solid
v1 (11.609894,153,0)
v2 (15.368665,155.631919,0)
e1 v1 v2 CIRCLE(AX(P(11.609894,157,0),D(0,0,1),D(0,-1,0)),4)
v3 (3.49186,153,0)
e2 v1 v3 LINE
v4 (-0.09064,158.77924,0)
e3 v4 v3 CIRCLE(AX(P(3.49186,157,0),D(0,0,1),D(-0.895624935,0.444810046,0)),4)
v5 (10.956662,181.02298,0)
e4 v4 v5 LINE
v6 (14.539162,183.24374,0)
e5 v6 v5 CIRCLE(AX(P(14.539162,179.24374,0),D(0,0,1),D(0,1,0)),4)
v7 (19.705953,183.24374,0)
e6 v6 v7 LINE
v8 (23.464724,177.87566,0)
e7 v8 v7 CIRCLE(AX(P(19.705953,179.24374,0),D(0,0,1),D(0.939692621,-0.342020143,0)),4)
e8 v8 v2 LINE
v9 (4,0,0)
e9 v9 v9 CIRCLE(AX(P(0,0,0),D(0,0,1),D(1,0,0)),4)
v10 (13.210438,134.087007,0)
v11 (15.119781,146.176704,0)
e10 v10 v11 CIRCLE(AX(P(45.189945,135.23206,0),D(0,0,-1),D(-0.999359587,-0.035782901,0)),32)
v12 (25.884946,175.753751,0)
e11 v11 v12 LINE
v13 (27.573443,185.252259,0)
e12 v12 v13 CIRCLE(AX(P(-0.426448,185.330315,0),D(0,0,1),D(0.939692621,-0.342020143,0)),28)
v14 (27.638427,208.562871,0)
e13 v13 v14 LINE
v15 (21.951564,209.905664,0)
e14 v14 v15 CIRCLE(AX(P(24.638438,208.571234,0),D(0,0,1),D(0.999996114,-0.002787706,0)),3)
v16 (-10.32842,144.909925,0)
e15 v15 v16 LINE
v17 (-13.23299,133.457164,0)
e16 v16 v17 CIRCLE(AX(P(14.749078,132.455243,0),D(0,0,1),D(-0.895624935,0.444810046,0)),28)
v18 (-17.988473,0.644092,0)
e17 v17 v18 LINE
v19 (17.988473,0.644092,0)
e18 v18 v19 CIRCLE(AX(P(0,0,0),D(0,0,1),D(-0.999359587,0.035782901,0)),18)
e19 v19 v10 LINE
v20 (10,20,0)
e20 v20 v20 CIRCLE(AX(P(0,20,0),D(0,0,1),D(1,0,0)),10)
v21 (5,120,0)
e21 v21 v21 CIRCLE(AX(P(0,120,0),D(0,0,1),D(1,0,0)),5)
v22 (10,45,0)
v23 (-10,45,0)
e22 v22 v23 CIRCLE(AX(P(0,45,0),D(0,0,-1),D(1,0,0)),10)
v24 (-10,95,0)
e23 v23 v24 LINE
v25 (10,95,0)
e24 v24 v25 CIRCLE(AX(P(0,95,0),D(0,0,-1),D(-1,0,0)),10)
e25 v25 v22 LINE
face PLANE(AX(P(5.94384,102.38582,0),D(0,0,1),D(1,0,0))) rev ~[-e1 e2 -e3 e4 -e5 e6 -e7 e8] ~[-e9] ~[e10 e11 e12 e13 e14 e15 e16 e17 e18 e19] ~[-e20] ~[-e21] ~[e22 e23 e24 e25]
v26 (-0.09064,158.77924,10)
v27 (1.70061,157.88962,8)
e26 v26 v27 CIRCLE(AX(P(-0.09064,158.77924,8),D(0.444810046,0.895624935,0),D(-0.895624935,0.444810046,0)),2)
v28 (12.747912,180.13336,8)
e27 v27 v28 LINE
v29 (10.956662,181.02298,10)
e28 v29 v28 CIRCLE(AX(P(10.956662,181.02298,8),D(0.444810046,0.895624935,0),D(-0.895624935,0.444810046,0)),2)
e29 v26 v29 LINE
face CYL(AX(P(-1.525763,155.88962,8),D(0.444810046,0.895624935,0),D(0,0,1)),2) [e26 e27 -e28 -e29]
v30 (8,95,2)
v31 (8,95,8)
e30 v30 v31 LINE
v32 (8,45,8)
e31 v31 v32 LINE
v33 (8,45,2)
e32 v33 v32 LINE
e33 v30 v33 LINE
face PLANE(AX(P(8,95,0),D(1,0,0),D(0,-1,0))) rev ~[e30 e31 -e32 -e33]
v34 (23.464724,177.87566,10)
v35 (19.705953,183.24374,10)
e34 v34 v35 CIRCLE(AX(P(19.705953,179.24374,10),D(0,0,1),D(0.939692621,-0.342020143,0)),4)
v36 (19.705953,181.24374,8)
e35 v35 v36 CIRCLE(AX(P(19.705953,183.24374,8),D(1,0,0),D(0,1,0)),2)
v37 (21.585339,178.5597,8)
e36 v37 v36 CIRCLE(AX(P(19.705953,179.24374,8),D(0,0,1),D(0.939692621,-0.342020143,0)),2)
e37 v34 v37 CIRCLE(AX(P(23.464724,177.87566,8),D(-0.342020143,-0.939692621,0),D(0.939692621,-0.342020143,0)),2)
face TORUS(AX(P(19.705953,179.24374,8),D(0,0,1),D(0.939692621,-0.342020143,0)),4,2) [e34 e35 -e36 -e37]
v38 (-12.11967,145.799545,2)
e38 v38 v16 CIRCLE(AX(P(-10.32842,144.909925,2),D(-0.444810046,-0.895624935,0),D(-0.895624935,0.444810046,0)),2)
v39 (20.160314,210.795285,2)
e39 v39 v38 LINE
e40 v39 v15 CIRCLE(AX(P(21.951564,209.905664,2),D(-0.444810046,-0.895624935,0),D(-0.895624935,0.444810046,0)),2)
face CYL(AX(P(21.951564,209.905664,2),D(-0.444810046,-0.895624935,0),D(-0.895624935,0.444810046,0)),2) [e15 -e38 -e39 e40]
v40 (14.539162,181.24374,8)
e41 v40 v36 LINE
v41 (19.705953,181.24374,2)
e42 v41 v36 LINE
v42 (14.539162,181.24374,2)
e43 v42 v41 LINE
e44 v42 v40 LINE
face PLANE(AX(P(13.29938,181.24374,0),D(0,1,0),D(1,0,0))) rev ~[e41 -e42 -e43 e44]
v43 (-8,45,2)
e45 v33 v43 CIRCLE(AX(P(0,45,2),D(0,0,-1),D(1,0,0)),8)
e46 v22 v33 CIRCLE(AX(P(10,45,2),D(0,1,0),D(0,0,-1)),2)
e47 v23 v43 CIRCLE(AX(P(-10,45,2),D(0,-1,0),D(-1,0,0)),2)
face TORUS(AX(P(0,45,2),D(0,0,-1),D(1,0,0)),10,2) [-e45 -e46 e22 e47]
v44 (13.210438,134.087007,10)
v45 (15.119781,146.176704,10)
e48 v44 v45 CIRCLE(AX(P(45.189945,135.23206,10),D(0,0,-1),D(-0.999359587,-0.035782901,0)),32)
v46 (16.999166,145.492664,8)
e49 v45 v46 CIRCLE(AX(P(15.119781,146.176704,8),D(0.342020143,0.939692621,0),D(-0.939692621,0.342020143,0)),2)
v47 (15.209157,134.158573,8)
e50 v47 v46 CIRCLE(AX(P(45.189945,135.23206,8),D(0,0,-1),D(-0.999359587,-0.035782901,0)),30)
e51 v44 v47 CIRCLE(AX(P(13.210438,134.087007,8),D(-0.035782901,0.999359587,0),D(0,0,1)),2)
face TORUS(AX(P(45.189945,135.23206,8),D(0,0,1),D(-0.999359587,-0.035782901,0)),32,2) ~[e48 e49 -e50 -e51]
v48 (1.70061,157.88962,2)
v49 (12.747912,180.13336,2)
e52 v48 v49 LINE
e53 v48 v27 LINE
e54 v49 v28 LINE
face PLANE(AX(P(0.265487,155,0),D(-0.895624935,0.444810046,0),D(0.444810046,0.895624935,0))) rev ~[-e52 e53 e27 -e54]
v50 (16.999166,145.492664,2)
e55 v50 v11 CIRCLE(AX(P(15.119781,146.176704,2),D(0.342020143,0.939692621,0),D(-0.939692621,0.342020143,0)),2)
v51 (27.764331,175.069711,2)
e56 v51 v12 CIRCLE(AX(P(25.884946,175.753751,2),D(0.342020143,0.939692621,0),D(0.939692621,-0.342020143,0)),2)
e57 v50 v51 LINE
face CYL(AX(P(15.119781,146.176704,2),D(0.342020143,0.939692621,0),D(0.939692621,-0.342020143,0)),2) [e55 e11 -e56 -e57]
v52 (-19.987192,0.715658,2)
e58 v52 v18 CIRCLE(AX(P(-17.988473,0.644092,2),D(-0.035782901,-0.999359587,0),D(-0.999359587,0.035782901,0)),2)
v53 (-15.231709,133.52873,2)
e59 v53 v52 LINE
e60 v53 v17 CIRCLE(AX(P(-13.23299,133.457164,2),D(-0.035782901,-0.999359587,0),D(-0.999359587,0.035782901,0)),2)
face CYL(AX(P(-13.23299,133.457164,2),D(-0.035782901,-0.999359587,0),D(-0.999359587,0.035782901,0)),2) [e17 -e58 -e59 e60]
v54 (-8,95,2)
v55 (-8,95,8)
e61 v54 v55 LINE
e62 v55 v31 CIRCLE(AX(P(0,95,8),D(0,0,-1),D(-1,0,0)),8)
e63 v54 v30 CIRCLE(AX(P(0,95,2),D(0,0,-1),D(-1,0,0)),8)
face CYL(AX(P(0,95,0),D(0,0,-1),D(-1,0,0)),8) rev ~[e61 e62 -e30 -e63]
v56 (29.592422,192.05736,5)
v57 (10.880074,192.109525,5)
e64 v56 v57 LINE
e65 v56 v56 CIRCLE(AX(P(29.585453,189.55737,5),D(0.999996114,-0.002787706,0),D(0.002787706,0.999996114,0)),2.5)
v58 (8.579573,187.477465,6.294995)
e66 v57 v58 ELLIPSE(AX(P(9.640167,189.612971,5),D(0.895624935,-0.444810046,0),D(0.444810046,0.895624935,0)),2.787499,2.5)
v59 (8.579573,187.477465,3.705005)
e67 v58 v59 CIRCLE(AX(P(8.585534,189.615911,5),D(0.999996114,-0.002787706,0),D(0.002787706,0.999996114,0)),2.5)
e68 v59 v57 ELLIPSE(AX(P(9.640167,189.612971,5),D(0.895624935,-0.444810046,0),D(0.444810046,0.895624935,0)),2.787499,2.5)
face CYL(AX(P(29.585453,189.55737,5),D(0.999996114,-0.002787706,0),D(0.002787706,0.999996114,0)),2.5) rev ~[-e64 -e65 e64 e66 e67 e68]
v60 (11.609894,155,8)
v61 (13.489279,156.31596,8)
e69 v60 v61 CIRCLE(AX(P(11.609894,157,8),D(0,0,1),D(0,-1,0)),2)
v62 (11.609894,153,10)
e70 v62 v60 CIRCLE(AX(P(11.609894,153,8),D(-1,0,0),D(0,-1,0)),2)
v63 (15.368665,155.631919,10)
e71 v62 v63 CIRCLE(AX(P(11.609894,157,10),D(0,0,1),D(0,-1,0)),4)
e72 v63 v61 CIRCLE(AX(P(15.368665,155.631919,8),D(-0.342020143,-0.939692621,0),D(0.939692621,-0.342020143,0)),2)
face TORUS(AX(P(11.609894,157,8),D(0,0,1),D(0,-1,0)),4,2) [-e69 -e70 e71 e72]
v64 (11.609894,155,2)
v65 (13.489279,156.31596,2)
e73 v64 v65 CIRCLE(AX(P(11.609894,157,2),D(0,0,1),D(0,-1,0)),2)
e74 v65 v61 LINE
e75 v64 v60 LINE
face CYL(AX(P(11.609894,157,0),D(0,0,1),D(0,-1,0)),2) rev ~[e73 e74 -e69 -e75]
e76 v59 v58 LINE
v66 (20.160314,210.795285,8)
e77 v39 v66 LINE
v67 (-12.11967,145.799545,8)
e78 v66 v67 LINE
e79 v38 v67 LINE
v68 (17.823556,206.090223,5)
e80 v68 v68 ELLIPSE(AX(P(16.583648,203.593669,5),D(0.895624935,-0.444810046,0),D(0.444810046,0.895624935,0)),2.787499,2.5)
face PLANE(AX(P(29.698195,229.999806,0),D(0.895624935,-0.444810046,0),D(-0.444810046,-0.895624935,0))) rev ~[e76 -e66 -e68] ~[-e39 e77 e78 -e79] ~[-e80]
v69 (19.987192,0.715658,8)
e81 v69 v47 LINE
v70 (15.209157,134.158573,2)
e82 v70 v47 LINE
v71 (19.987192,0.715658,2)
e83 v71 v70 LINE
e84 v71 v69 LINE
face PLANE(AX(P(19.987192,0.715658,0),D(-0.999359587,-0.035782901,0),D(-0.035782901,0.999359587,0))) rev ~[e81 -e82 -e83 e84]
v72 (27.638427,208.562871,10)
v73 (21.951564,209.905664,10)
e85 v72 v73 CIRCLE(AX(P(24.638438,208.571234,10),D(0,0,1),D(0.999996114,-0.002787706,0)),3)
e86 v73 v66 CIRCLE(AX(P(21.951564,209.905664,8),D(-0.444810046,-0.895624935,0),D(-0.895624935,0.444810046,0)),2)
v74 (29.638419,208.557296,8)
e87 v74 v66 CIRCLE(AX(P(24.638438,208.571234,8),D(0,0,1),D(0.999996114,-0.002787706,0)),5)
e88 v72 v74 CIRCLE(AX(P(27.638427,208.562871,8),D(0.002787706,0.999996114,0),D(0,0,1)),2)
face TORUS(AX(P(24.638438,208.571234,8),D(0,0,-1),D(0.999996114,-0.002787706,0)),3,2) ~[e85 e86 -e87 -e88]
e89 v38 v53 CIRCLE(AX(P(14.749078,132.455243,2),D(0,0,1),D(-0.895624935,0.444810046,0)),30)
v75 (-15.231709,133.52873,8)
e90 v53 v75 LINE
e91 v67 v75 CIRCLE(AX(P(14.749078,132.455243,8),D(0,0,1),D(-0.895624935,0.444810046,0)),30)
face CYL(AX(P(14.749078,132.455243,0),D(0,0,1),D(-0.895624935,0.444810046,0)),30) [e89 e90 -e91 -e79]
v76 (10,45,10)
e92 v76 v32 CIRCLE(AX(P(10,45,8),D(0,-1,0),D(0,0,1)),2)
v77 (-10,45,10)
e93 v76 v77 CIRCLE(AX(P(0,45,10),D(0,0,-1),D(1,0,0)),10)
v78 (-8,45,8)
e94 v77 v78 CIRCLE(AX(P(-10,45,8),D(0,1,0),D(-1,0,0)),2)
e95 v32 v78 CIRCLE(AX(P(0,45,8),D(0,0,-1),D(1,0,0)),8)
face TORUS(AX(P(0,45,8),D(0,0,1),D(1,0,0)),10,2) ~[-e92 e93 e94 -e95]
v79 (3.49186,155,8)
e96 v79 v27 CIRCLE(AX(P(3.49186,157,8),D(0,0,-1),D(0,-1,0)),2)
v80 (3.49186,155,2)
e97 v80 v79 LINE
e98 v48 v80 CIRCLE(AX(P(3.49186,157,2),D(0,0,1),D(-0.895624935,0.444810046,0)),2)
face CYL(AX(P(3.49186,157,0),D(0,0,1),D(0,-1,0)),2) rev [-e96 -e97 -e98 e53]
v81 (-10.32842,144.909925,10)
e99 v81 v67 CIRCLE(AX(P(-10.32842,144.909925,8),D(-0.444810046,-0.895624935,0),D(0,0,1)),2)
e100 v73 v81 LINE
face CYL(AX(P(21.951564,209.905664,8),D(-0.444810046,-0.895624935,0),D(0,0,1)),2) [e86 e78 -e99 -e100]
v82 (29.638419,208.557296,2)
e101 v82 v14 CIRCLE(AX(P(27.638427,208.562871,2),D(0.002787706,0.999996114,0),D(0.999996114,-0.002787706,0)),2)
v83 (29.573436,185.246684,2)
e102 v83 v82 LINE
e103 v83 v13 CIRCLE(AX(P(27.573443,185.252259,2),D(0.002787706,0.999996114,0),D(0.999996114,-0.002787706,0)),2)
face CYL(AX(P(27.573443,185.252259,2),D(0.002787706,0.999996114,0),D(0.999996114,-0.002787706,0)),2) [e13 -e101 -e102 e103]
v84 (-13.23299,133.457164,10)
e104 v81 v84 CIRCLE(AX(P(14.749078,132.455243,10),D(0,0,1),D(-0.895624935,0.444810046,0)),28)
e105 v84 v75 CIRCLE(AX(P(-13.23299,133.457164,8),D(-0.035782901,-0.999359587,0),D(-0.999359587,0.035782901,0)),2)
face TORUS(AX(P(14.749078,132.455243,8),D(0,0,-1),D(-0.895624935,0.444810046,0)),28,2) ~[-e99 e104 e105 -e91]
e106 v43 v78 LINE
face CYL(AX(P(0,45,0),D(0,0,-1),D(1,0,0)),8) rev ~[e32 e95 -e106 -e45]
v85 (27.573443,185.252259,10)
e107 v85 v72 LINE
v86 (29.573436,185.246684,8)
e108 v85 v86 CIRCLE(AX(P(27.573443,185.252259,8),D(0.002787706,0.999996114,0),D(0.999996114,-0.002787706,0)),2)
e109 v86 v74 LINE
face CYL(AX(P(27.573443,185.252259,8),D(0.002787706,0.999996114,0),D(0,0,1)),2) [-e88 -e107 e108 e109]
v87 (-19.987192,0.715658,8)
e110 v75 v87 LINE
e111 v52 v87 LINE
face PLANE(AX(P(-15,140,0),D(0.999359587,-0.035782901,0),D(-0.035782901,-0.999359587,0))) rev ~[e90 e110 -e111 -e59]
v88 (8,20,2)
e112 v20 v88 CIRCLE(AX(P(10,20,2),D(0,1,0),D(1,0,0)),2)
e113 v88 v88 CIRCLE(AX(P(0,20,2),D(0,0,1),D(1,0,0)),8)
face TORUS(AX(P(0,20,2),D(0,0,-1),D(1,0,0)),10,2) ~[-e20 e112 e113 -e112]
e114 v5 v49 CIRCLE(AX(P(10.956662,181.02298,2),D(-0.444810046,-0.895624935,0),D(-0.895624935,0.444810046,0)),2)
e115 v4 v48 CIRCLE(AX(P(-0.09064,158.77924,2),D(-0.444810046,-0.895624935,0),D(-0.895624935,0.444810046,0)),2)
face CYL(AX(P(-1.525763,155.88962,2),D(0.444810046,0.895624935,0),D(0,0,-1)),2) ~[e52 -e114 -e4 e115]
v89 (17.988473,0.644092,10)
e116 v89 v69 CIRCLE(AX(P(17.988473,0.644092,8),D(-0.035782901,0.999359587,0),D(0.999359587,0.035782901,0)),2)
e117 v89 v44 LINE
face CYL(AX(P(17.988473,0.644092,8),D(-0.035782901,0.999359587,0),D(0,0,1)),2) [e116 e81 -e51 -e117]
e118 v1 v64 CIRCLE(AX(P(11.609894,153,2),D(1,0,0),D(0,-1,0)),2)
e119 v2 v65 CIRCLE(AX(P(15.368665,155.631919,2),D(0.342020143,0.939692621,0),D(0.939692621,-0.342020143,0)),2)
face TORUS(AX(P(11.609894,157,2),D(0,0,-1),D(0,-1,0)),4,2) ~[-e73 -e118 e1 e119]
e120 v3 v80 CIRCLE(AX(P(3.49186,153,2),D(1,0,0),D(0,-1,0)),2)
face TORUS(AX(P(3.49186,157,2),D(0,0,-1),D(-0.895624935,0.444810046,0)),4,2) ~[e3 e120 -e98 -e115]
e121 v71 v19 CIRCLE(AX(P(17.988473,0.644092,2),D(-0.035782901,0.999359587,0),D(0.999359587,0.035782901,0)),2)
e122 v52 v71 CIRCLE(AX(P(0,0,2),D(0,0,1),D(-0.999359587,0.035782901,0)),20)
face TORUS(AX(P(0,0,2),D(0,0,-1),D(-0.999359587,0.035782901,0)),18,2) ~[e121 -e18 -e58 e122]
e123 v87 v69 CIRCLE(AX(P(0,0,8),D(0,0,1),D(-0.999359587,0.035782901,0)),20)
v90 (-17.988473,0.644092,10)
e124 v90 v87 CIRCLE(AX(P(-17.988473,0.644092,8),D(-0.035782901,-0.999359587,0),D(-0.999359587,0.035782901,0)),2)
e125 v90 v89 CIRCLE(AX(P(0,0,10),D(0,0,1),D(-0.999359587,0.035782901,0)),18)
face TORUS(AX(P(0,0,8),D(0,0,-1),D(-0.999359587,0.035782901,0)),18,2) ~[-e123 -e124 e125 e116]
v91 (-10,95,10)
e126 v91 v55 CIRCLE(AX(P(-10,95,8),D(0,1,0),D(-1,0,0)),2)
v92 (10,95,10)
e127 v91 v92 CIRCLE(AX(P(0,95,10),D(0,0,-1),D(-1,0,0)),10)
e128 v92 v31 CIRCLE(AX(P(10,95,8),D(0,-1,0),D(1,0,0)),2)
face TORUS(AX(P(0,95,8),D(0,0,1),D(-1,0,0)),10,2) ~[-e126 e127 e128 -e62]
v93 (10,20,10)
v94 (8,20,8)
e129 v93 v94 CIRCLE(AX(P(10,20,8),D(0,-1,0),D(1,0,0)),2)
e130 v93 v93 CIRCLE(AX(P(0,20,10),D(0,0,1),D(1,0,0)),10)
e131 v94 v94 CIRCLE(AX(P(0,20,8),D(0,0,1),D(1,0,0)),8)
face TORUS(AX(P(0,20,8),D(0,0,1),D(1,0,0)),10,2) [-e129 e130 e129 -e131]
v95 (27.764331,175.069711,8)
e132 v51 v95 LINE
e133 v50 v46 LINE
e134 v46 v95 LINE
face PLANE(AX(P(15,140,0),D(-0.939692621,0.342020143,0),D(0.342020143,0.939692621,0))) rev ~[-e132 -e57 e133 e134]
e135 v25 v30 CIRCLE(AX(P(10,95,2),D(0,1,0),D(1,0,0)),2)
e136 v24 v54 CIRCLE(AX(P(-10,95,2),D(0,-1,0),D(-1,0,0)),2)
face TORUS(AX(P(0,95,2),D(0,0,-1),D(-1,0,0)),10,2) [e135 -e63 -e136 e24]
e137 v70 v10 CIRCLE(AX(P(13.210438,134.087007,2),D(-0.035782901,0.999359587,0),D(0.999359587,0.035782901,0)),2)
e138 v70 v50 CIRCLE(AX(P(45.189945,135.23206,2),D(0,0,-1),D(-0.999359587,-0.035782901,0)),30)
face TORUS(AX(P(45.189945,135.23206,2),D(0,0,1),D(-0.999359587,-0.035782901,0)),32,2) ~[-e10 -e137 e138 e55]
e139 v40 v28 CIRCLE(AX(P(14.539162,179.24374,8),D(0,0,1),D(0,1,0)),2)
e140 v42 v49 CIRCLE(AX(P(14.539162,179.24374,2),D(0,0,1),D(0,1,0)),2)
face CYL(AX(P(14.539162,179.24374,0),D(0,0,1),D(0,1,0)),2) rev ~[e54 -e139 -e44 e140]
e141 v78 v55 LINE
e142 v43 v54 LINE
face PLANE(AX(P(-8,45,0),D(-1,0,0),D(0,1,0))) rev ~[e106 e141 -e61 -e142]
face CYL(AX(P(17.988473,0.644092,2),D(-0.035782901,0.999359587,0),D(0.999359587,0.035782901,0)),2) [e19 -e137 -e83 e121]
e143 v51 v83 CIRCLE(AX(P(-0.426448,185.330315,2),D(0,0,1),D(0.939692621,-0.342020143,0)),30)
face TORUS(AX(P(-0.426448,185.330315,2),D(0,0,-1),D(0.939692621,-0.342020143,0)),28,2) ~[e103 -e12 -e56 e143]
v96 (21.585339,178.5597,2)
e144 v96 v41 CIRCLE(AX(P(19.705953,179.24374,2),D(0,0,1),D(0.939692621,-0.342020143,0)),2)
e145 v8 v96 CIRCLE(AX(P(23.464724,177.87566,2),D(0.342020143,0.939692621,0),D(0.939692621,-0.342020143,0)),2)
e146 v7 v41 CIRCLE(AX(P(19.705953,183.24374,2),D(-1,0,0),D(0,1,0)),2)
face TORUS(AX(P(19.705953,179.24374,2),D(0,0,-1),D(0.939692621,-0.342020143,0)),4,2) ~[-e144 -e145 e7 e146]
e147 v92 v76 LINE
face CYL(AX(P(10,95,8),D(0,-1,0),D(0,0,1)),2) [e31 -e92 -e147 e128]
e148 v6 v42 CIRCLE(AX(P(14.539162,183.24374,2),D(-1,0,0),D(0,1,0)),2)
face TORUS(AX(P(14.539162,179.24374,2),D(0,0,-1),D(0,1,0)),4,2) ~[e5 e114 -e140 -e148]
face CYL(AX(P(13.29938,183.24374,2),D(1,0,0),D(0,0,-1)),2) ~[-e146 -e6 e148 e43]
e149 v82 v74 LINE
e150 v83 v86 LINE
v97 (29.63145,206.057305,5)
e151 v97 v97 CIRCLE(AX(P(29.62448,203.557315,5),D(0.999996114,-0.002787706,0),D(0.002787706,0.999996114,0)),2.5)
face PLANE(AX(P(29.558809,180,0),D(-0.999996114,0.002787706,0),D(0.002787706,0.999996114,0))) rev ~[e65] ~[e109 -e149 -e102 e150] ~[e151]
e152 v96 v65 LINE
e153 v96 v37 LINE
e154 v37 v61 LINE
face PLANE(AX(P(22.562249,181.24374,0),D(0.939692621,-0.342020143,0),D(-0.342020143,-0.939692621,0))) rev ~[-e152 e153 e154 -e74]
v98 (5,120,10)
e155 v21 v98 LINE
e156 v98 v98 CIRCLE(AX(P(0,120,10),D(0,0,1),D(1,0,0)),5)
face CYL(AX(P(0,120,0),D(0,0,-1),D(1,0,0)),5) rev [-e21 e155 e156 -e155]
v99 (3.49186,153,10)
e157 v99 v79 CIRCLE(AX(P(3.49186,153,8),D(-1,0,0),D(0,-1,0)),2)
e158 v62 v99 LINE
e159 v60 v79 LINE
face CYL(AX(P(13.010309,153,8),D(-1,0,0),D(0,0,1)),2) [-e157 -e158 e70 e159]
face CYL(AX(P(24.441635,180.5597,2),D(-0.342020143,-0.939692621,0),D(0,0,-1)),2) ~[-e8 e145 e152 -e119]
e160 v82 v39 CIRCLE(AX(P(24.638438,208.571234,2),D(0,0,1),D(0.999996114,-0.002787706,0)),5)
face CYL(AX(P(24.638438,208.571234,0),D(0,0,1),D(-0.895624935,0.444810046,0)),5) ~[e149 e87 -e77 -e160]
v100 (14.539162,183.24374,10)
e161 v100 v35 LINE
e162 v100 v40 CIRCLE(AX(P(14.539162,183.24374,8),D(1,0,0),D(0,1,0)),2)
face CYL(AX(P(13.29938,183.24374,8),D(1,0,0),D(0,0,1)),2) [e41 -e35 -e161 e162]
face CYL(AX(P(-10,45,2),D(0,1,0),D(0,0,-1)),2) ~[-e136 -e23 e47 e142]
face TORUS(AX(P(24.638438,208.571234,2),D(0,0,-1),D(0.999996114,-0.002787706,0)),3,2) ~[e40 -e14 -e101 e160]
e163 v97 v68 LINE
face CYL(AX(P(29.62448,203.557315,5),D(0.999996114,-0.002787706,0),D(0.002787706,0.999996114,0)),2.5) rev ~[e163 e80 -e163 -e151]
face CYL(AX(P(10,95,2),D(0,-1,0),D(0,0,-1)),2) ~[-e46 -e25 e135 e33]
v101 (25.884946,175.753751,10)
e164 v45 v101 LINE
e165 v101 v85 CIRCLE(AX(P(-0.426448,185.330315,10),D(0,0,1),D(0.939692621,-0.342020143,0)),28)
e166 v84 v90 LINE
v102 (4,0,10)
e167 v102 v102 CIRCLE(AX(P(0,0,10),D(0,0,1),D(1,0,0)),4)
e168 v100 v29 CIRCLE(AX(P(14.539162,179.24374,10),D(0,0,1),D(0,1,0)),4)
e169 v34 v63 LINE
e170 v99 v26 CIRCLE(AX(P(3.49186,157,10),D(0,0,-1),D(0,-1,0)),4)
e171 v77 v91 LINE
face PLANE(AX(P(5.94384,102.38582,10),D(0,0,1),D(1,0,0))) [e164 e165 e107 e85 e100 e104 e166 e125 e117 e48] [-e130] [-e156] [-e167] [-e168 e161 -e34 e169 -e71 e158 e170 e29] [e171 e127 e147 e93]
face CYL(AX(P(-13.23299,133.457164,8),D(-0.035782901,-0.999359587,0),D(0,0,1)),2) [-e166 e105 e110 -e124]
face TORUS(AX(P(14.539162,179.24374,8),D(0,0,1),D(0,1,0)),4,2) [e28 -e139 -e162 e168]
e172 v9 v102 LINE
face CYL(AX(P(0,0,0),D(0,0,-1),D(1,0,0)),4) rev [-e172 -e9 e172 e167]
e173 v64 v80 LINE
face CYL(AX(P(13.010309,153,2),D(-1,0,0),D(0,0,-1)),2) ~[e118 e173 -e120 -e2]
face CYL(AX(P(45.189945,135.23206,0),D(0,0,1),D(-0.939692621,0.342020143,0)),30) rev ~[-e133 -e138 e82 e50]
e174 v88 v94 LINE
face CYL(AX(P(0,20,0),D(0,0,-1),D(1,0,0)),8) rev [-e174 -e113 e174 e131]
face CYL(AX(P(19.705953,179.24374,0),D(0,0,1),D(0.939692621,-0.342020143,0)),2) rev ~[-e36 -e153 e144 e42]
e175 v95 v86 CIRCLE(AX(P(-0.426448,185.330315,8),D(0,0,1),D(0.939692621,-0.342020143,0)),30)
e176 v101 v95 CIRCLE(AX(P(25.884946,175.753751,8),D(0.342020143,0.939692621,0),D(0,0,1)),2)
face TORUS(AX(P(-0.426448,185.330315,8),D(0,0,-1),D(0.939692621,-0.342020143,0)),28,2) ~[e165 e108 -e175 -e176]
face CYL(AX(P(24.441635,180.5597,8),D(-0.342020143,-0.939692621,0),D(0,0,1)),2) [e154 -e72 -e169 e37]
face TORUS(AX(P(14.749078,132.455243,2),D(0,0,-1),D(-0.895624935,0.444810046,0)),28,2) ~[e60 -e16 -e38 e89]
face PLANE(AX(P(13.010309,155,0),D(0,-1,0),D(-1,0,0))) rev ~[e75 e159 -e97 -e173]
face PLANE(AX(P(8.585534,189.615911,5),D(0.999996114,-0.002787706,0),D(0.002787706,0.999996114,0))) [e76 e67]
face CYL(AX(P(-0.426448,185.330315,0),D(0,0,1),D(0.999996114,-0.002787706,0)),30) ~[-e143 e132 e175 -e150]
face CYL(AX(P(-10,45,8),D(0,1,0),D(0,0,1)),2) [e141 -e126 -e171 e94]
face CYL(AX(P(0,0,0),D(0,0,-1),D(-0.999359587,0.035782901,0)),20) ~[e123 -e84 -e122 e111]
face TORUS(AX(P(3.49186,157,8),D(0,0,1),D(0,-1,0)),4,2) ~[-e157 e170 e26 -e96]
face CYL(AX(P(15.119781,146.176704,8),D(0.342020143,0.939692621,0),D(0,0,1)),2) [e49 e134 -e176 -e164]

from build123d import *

# Parameters (mm, degrees)
SKETCH1_R           = 4
SKETCH1_R_2         = 8
SKETCH1_R_3         = 5
BOSS_EXTRUDE1_DEPTH = 10
FILLET1_R           = 5
FILLET2_R           = 30
SKETCH2_R           = 2.5
CUT_EXTRUDE1_DEPTH  = 21
FILLET3_R           = 2


with BuildPart() as part:
    # Sketch1 → Boss-Extrude1 (new body)
    with BuildSketch(Plane.XY):
        with BuildLine():
            Line((-15, 140), (-19.987191738, 0.715658028))
            ThreePointArc((-19.987191738, 0.715658028), (0, -20), (19.987191738, 0.715658028))
            Line((19.987191738, 0.715658028), (15, 140))
            Line((15, 140), (29.558809371, 180))
            Line((29.558809371, 180), (29.698194676, 229.999805717))
            Line((29.698194676, 229.999805717), (-15, 140))
        make_face()
        Circle(SKETCH1_R, mode=Mode.SUBTRACT)
        with Locations((0, 20)):
            Circle(SKETCH1_R_2, mode=Mode.SUBTRACT)
        with Locations((0, 120)):
            Circle(SKETCH1_R_3, mode=Mode.SUBTRACT)
        with BuildLine():
            Line((8, 95), (8, 45))
            ThreePointArc((8, 45), (0, 37), (-8, 45))
            Line((-8, 45), (-8, 95))
            ThreePointArc((-8, 95), (0, 103), (8, 95))
        make_face(mode=Mode.SUBTRACT)
        Polygon((0.265486875, 155), (13.299379538, 181.243740176), (22.562249366, 181.243740176), (13.010309107, 155), align=None, mode=Mode.SUBTRACT)
    extrude(amount=BOSS_EXTRUDE1_DEPTH)

    # Fillet1
    fillet1_edges = [part.edges().sort_by_distance(p)[0] for p in [
        (29.698194676, 229.999805717, 5),
    ]]
    fillet(fillet1_edges, radius=FILLET1_R)

    # Fillet2
    fillet2_edges = [part.edges().sort_by_distance(p)[0] for p in [
        (29.558809371, 180, 5),
        (15, 140, 5),
        (-15, 140, 5),
    ]]
    fillet(fillet2_edges, radius=FILLET2_R)

    # Sketch2 → Cut-Extrude1 (cut)
    with BuildSketch(Plane(origin=(29.05679451, -0.081002118, 0), x_dir=(0, 0, -1), z_dir=(0.9999961143397721, -0.0027877061103215297, 0))):
        with Locations(Location((-5, 203.639108577, 0), (0, 0, 90))):
            Circle(SKETCH2_R)
        with Locations(Location((-5, 189.639108577, 0), (0, 0, 90))):
            Circle(SKETCH2_R)
    extrude(amount=-CUT_EXTRUDE1_DEPTH, mode=Mode.SUBTRACT)

    # Fillet3
    fillet3_edges = [part.edges().sort_by_distance(p)[0] for p in [
        (0, -20, 10),
        (17.598174454, 67.437115277, 10),
        (0, 103, 0),
        (-8, 70, 0),
        (0, 37, 0),
        (8, 70, 0),
        (0, 103, 10),
        (-8, 70, 10),
        (0, 37, 10),
        (8, 70, 10),
        (6.637897991, 155, 0),
        (0.265486875, 155, 5),
        (17.786279237, 168.121870088, 0),
        (13.010309107, 155, 5),
        (17.930814452, 181.243740176, 0),
        (22.562249366, 181.243740176, 5),
        (6.782433207, 168.121870088, 0),
        (13.299379538, 181.243740176, 5),
        (6.637897991, 155, 10),
        (17.786279237, 168.121870088, 10),
        (17.930814452, 181.243740176, 10),
        (6.782433207, 168.121870088, 10),
        (-8, 20, 0),
        (-8, 20, 10),
        (4.02032208, 178.297414565, 0),
        (4.02032208, 178.297414565, 10),
        (25.787451866, 213.437420494, 0),
        (25.787451866, 213.437420494, 10),
        (29.605927334, 196.901989807, 0),
        (29.605927334, 196.901989807, 10),
        (22.381748494, 160.281187303, 0),
        (-17.609450467, 67.122194159, 0),
        (-14.330306842, 139.830157025, 0),
        (29.110494892, 180.079694411, 0),
        (17.598174454, 67.437115277, 0),
        (22.381748494, 160.281187303, 10),
        (-17.609450467, 67.122194159, 10),
        (-14.330306842, 139.830157025, 10),
        (29.110494892, 180.079694411, 10),
        (0, -20, 0),
        (15.557223234, 139.911996951, 0),
        (15.557223234, 139.911996951, 10),
    ]]
    fillet(fillet3_edges, radius=FILLET3_R)


solid = part.part
